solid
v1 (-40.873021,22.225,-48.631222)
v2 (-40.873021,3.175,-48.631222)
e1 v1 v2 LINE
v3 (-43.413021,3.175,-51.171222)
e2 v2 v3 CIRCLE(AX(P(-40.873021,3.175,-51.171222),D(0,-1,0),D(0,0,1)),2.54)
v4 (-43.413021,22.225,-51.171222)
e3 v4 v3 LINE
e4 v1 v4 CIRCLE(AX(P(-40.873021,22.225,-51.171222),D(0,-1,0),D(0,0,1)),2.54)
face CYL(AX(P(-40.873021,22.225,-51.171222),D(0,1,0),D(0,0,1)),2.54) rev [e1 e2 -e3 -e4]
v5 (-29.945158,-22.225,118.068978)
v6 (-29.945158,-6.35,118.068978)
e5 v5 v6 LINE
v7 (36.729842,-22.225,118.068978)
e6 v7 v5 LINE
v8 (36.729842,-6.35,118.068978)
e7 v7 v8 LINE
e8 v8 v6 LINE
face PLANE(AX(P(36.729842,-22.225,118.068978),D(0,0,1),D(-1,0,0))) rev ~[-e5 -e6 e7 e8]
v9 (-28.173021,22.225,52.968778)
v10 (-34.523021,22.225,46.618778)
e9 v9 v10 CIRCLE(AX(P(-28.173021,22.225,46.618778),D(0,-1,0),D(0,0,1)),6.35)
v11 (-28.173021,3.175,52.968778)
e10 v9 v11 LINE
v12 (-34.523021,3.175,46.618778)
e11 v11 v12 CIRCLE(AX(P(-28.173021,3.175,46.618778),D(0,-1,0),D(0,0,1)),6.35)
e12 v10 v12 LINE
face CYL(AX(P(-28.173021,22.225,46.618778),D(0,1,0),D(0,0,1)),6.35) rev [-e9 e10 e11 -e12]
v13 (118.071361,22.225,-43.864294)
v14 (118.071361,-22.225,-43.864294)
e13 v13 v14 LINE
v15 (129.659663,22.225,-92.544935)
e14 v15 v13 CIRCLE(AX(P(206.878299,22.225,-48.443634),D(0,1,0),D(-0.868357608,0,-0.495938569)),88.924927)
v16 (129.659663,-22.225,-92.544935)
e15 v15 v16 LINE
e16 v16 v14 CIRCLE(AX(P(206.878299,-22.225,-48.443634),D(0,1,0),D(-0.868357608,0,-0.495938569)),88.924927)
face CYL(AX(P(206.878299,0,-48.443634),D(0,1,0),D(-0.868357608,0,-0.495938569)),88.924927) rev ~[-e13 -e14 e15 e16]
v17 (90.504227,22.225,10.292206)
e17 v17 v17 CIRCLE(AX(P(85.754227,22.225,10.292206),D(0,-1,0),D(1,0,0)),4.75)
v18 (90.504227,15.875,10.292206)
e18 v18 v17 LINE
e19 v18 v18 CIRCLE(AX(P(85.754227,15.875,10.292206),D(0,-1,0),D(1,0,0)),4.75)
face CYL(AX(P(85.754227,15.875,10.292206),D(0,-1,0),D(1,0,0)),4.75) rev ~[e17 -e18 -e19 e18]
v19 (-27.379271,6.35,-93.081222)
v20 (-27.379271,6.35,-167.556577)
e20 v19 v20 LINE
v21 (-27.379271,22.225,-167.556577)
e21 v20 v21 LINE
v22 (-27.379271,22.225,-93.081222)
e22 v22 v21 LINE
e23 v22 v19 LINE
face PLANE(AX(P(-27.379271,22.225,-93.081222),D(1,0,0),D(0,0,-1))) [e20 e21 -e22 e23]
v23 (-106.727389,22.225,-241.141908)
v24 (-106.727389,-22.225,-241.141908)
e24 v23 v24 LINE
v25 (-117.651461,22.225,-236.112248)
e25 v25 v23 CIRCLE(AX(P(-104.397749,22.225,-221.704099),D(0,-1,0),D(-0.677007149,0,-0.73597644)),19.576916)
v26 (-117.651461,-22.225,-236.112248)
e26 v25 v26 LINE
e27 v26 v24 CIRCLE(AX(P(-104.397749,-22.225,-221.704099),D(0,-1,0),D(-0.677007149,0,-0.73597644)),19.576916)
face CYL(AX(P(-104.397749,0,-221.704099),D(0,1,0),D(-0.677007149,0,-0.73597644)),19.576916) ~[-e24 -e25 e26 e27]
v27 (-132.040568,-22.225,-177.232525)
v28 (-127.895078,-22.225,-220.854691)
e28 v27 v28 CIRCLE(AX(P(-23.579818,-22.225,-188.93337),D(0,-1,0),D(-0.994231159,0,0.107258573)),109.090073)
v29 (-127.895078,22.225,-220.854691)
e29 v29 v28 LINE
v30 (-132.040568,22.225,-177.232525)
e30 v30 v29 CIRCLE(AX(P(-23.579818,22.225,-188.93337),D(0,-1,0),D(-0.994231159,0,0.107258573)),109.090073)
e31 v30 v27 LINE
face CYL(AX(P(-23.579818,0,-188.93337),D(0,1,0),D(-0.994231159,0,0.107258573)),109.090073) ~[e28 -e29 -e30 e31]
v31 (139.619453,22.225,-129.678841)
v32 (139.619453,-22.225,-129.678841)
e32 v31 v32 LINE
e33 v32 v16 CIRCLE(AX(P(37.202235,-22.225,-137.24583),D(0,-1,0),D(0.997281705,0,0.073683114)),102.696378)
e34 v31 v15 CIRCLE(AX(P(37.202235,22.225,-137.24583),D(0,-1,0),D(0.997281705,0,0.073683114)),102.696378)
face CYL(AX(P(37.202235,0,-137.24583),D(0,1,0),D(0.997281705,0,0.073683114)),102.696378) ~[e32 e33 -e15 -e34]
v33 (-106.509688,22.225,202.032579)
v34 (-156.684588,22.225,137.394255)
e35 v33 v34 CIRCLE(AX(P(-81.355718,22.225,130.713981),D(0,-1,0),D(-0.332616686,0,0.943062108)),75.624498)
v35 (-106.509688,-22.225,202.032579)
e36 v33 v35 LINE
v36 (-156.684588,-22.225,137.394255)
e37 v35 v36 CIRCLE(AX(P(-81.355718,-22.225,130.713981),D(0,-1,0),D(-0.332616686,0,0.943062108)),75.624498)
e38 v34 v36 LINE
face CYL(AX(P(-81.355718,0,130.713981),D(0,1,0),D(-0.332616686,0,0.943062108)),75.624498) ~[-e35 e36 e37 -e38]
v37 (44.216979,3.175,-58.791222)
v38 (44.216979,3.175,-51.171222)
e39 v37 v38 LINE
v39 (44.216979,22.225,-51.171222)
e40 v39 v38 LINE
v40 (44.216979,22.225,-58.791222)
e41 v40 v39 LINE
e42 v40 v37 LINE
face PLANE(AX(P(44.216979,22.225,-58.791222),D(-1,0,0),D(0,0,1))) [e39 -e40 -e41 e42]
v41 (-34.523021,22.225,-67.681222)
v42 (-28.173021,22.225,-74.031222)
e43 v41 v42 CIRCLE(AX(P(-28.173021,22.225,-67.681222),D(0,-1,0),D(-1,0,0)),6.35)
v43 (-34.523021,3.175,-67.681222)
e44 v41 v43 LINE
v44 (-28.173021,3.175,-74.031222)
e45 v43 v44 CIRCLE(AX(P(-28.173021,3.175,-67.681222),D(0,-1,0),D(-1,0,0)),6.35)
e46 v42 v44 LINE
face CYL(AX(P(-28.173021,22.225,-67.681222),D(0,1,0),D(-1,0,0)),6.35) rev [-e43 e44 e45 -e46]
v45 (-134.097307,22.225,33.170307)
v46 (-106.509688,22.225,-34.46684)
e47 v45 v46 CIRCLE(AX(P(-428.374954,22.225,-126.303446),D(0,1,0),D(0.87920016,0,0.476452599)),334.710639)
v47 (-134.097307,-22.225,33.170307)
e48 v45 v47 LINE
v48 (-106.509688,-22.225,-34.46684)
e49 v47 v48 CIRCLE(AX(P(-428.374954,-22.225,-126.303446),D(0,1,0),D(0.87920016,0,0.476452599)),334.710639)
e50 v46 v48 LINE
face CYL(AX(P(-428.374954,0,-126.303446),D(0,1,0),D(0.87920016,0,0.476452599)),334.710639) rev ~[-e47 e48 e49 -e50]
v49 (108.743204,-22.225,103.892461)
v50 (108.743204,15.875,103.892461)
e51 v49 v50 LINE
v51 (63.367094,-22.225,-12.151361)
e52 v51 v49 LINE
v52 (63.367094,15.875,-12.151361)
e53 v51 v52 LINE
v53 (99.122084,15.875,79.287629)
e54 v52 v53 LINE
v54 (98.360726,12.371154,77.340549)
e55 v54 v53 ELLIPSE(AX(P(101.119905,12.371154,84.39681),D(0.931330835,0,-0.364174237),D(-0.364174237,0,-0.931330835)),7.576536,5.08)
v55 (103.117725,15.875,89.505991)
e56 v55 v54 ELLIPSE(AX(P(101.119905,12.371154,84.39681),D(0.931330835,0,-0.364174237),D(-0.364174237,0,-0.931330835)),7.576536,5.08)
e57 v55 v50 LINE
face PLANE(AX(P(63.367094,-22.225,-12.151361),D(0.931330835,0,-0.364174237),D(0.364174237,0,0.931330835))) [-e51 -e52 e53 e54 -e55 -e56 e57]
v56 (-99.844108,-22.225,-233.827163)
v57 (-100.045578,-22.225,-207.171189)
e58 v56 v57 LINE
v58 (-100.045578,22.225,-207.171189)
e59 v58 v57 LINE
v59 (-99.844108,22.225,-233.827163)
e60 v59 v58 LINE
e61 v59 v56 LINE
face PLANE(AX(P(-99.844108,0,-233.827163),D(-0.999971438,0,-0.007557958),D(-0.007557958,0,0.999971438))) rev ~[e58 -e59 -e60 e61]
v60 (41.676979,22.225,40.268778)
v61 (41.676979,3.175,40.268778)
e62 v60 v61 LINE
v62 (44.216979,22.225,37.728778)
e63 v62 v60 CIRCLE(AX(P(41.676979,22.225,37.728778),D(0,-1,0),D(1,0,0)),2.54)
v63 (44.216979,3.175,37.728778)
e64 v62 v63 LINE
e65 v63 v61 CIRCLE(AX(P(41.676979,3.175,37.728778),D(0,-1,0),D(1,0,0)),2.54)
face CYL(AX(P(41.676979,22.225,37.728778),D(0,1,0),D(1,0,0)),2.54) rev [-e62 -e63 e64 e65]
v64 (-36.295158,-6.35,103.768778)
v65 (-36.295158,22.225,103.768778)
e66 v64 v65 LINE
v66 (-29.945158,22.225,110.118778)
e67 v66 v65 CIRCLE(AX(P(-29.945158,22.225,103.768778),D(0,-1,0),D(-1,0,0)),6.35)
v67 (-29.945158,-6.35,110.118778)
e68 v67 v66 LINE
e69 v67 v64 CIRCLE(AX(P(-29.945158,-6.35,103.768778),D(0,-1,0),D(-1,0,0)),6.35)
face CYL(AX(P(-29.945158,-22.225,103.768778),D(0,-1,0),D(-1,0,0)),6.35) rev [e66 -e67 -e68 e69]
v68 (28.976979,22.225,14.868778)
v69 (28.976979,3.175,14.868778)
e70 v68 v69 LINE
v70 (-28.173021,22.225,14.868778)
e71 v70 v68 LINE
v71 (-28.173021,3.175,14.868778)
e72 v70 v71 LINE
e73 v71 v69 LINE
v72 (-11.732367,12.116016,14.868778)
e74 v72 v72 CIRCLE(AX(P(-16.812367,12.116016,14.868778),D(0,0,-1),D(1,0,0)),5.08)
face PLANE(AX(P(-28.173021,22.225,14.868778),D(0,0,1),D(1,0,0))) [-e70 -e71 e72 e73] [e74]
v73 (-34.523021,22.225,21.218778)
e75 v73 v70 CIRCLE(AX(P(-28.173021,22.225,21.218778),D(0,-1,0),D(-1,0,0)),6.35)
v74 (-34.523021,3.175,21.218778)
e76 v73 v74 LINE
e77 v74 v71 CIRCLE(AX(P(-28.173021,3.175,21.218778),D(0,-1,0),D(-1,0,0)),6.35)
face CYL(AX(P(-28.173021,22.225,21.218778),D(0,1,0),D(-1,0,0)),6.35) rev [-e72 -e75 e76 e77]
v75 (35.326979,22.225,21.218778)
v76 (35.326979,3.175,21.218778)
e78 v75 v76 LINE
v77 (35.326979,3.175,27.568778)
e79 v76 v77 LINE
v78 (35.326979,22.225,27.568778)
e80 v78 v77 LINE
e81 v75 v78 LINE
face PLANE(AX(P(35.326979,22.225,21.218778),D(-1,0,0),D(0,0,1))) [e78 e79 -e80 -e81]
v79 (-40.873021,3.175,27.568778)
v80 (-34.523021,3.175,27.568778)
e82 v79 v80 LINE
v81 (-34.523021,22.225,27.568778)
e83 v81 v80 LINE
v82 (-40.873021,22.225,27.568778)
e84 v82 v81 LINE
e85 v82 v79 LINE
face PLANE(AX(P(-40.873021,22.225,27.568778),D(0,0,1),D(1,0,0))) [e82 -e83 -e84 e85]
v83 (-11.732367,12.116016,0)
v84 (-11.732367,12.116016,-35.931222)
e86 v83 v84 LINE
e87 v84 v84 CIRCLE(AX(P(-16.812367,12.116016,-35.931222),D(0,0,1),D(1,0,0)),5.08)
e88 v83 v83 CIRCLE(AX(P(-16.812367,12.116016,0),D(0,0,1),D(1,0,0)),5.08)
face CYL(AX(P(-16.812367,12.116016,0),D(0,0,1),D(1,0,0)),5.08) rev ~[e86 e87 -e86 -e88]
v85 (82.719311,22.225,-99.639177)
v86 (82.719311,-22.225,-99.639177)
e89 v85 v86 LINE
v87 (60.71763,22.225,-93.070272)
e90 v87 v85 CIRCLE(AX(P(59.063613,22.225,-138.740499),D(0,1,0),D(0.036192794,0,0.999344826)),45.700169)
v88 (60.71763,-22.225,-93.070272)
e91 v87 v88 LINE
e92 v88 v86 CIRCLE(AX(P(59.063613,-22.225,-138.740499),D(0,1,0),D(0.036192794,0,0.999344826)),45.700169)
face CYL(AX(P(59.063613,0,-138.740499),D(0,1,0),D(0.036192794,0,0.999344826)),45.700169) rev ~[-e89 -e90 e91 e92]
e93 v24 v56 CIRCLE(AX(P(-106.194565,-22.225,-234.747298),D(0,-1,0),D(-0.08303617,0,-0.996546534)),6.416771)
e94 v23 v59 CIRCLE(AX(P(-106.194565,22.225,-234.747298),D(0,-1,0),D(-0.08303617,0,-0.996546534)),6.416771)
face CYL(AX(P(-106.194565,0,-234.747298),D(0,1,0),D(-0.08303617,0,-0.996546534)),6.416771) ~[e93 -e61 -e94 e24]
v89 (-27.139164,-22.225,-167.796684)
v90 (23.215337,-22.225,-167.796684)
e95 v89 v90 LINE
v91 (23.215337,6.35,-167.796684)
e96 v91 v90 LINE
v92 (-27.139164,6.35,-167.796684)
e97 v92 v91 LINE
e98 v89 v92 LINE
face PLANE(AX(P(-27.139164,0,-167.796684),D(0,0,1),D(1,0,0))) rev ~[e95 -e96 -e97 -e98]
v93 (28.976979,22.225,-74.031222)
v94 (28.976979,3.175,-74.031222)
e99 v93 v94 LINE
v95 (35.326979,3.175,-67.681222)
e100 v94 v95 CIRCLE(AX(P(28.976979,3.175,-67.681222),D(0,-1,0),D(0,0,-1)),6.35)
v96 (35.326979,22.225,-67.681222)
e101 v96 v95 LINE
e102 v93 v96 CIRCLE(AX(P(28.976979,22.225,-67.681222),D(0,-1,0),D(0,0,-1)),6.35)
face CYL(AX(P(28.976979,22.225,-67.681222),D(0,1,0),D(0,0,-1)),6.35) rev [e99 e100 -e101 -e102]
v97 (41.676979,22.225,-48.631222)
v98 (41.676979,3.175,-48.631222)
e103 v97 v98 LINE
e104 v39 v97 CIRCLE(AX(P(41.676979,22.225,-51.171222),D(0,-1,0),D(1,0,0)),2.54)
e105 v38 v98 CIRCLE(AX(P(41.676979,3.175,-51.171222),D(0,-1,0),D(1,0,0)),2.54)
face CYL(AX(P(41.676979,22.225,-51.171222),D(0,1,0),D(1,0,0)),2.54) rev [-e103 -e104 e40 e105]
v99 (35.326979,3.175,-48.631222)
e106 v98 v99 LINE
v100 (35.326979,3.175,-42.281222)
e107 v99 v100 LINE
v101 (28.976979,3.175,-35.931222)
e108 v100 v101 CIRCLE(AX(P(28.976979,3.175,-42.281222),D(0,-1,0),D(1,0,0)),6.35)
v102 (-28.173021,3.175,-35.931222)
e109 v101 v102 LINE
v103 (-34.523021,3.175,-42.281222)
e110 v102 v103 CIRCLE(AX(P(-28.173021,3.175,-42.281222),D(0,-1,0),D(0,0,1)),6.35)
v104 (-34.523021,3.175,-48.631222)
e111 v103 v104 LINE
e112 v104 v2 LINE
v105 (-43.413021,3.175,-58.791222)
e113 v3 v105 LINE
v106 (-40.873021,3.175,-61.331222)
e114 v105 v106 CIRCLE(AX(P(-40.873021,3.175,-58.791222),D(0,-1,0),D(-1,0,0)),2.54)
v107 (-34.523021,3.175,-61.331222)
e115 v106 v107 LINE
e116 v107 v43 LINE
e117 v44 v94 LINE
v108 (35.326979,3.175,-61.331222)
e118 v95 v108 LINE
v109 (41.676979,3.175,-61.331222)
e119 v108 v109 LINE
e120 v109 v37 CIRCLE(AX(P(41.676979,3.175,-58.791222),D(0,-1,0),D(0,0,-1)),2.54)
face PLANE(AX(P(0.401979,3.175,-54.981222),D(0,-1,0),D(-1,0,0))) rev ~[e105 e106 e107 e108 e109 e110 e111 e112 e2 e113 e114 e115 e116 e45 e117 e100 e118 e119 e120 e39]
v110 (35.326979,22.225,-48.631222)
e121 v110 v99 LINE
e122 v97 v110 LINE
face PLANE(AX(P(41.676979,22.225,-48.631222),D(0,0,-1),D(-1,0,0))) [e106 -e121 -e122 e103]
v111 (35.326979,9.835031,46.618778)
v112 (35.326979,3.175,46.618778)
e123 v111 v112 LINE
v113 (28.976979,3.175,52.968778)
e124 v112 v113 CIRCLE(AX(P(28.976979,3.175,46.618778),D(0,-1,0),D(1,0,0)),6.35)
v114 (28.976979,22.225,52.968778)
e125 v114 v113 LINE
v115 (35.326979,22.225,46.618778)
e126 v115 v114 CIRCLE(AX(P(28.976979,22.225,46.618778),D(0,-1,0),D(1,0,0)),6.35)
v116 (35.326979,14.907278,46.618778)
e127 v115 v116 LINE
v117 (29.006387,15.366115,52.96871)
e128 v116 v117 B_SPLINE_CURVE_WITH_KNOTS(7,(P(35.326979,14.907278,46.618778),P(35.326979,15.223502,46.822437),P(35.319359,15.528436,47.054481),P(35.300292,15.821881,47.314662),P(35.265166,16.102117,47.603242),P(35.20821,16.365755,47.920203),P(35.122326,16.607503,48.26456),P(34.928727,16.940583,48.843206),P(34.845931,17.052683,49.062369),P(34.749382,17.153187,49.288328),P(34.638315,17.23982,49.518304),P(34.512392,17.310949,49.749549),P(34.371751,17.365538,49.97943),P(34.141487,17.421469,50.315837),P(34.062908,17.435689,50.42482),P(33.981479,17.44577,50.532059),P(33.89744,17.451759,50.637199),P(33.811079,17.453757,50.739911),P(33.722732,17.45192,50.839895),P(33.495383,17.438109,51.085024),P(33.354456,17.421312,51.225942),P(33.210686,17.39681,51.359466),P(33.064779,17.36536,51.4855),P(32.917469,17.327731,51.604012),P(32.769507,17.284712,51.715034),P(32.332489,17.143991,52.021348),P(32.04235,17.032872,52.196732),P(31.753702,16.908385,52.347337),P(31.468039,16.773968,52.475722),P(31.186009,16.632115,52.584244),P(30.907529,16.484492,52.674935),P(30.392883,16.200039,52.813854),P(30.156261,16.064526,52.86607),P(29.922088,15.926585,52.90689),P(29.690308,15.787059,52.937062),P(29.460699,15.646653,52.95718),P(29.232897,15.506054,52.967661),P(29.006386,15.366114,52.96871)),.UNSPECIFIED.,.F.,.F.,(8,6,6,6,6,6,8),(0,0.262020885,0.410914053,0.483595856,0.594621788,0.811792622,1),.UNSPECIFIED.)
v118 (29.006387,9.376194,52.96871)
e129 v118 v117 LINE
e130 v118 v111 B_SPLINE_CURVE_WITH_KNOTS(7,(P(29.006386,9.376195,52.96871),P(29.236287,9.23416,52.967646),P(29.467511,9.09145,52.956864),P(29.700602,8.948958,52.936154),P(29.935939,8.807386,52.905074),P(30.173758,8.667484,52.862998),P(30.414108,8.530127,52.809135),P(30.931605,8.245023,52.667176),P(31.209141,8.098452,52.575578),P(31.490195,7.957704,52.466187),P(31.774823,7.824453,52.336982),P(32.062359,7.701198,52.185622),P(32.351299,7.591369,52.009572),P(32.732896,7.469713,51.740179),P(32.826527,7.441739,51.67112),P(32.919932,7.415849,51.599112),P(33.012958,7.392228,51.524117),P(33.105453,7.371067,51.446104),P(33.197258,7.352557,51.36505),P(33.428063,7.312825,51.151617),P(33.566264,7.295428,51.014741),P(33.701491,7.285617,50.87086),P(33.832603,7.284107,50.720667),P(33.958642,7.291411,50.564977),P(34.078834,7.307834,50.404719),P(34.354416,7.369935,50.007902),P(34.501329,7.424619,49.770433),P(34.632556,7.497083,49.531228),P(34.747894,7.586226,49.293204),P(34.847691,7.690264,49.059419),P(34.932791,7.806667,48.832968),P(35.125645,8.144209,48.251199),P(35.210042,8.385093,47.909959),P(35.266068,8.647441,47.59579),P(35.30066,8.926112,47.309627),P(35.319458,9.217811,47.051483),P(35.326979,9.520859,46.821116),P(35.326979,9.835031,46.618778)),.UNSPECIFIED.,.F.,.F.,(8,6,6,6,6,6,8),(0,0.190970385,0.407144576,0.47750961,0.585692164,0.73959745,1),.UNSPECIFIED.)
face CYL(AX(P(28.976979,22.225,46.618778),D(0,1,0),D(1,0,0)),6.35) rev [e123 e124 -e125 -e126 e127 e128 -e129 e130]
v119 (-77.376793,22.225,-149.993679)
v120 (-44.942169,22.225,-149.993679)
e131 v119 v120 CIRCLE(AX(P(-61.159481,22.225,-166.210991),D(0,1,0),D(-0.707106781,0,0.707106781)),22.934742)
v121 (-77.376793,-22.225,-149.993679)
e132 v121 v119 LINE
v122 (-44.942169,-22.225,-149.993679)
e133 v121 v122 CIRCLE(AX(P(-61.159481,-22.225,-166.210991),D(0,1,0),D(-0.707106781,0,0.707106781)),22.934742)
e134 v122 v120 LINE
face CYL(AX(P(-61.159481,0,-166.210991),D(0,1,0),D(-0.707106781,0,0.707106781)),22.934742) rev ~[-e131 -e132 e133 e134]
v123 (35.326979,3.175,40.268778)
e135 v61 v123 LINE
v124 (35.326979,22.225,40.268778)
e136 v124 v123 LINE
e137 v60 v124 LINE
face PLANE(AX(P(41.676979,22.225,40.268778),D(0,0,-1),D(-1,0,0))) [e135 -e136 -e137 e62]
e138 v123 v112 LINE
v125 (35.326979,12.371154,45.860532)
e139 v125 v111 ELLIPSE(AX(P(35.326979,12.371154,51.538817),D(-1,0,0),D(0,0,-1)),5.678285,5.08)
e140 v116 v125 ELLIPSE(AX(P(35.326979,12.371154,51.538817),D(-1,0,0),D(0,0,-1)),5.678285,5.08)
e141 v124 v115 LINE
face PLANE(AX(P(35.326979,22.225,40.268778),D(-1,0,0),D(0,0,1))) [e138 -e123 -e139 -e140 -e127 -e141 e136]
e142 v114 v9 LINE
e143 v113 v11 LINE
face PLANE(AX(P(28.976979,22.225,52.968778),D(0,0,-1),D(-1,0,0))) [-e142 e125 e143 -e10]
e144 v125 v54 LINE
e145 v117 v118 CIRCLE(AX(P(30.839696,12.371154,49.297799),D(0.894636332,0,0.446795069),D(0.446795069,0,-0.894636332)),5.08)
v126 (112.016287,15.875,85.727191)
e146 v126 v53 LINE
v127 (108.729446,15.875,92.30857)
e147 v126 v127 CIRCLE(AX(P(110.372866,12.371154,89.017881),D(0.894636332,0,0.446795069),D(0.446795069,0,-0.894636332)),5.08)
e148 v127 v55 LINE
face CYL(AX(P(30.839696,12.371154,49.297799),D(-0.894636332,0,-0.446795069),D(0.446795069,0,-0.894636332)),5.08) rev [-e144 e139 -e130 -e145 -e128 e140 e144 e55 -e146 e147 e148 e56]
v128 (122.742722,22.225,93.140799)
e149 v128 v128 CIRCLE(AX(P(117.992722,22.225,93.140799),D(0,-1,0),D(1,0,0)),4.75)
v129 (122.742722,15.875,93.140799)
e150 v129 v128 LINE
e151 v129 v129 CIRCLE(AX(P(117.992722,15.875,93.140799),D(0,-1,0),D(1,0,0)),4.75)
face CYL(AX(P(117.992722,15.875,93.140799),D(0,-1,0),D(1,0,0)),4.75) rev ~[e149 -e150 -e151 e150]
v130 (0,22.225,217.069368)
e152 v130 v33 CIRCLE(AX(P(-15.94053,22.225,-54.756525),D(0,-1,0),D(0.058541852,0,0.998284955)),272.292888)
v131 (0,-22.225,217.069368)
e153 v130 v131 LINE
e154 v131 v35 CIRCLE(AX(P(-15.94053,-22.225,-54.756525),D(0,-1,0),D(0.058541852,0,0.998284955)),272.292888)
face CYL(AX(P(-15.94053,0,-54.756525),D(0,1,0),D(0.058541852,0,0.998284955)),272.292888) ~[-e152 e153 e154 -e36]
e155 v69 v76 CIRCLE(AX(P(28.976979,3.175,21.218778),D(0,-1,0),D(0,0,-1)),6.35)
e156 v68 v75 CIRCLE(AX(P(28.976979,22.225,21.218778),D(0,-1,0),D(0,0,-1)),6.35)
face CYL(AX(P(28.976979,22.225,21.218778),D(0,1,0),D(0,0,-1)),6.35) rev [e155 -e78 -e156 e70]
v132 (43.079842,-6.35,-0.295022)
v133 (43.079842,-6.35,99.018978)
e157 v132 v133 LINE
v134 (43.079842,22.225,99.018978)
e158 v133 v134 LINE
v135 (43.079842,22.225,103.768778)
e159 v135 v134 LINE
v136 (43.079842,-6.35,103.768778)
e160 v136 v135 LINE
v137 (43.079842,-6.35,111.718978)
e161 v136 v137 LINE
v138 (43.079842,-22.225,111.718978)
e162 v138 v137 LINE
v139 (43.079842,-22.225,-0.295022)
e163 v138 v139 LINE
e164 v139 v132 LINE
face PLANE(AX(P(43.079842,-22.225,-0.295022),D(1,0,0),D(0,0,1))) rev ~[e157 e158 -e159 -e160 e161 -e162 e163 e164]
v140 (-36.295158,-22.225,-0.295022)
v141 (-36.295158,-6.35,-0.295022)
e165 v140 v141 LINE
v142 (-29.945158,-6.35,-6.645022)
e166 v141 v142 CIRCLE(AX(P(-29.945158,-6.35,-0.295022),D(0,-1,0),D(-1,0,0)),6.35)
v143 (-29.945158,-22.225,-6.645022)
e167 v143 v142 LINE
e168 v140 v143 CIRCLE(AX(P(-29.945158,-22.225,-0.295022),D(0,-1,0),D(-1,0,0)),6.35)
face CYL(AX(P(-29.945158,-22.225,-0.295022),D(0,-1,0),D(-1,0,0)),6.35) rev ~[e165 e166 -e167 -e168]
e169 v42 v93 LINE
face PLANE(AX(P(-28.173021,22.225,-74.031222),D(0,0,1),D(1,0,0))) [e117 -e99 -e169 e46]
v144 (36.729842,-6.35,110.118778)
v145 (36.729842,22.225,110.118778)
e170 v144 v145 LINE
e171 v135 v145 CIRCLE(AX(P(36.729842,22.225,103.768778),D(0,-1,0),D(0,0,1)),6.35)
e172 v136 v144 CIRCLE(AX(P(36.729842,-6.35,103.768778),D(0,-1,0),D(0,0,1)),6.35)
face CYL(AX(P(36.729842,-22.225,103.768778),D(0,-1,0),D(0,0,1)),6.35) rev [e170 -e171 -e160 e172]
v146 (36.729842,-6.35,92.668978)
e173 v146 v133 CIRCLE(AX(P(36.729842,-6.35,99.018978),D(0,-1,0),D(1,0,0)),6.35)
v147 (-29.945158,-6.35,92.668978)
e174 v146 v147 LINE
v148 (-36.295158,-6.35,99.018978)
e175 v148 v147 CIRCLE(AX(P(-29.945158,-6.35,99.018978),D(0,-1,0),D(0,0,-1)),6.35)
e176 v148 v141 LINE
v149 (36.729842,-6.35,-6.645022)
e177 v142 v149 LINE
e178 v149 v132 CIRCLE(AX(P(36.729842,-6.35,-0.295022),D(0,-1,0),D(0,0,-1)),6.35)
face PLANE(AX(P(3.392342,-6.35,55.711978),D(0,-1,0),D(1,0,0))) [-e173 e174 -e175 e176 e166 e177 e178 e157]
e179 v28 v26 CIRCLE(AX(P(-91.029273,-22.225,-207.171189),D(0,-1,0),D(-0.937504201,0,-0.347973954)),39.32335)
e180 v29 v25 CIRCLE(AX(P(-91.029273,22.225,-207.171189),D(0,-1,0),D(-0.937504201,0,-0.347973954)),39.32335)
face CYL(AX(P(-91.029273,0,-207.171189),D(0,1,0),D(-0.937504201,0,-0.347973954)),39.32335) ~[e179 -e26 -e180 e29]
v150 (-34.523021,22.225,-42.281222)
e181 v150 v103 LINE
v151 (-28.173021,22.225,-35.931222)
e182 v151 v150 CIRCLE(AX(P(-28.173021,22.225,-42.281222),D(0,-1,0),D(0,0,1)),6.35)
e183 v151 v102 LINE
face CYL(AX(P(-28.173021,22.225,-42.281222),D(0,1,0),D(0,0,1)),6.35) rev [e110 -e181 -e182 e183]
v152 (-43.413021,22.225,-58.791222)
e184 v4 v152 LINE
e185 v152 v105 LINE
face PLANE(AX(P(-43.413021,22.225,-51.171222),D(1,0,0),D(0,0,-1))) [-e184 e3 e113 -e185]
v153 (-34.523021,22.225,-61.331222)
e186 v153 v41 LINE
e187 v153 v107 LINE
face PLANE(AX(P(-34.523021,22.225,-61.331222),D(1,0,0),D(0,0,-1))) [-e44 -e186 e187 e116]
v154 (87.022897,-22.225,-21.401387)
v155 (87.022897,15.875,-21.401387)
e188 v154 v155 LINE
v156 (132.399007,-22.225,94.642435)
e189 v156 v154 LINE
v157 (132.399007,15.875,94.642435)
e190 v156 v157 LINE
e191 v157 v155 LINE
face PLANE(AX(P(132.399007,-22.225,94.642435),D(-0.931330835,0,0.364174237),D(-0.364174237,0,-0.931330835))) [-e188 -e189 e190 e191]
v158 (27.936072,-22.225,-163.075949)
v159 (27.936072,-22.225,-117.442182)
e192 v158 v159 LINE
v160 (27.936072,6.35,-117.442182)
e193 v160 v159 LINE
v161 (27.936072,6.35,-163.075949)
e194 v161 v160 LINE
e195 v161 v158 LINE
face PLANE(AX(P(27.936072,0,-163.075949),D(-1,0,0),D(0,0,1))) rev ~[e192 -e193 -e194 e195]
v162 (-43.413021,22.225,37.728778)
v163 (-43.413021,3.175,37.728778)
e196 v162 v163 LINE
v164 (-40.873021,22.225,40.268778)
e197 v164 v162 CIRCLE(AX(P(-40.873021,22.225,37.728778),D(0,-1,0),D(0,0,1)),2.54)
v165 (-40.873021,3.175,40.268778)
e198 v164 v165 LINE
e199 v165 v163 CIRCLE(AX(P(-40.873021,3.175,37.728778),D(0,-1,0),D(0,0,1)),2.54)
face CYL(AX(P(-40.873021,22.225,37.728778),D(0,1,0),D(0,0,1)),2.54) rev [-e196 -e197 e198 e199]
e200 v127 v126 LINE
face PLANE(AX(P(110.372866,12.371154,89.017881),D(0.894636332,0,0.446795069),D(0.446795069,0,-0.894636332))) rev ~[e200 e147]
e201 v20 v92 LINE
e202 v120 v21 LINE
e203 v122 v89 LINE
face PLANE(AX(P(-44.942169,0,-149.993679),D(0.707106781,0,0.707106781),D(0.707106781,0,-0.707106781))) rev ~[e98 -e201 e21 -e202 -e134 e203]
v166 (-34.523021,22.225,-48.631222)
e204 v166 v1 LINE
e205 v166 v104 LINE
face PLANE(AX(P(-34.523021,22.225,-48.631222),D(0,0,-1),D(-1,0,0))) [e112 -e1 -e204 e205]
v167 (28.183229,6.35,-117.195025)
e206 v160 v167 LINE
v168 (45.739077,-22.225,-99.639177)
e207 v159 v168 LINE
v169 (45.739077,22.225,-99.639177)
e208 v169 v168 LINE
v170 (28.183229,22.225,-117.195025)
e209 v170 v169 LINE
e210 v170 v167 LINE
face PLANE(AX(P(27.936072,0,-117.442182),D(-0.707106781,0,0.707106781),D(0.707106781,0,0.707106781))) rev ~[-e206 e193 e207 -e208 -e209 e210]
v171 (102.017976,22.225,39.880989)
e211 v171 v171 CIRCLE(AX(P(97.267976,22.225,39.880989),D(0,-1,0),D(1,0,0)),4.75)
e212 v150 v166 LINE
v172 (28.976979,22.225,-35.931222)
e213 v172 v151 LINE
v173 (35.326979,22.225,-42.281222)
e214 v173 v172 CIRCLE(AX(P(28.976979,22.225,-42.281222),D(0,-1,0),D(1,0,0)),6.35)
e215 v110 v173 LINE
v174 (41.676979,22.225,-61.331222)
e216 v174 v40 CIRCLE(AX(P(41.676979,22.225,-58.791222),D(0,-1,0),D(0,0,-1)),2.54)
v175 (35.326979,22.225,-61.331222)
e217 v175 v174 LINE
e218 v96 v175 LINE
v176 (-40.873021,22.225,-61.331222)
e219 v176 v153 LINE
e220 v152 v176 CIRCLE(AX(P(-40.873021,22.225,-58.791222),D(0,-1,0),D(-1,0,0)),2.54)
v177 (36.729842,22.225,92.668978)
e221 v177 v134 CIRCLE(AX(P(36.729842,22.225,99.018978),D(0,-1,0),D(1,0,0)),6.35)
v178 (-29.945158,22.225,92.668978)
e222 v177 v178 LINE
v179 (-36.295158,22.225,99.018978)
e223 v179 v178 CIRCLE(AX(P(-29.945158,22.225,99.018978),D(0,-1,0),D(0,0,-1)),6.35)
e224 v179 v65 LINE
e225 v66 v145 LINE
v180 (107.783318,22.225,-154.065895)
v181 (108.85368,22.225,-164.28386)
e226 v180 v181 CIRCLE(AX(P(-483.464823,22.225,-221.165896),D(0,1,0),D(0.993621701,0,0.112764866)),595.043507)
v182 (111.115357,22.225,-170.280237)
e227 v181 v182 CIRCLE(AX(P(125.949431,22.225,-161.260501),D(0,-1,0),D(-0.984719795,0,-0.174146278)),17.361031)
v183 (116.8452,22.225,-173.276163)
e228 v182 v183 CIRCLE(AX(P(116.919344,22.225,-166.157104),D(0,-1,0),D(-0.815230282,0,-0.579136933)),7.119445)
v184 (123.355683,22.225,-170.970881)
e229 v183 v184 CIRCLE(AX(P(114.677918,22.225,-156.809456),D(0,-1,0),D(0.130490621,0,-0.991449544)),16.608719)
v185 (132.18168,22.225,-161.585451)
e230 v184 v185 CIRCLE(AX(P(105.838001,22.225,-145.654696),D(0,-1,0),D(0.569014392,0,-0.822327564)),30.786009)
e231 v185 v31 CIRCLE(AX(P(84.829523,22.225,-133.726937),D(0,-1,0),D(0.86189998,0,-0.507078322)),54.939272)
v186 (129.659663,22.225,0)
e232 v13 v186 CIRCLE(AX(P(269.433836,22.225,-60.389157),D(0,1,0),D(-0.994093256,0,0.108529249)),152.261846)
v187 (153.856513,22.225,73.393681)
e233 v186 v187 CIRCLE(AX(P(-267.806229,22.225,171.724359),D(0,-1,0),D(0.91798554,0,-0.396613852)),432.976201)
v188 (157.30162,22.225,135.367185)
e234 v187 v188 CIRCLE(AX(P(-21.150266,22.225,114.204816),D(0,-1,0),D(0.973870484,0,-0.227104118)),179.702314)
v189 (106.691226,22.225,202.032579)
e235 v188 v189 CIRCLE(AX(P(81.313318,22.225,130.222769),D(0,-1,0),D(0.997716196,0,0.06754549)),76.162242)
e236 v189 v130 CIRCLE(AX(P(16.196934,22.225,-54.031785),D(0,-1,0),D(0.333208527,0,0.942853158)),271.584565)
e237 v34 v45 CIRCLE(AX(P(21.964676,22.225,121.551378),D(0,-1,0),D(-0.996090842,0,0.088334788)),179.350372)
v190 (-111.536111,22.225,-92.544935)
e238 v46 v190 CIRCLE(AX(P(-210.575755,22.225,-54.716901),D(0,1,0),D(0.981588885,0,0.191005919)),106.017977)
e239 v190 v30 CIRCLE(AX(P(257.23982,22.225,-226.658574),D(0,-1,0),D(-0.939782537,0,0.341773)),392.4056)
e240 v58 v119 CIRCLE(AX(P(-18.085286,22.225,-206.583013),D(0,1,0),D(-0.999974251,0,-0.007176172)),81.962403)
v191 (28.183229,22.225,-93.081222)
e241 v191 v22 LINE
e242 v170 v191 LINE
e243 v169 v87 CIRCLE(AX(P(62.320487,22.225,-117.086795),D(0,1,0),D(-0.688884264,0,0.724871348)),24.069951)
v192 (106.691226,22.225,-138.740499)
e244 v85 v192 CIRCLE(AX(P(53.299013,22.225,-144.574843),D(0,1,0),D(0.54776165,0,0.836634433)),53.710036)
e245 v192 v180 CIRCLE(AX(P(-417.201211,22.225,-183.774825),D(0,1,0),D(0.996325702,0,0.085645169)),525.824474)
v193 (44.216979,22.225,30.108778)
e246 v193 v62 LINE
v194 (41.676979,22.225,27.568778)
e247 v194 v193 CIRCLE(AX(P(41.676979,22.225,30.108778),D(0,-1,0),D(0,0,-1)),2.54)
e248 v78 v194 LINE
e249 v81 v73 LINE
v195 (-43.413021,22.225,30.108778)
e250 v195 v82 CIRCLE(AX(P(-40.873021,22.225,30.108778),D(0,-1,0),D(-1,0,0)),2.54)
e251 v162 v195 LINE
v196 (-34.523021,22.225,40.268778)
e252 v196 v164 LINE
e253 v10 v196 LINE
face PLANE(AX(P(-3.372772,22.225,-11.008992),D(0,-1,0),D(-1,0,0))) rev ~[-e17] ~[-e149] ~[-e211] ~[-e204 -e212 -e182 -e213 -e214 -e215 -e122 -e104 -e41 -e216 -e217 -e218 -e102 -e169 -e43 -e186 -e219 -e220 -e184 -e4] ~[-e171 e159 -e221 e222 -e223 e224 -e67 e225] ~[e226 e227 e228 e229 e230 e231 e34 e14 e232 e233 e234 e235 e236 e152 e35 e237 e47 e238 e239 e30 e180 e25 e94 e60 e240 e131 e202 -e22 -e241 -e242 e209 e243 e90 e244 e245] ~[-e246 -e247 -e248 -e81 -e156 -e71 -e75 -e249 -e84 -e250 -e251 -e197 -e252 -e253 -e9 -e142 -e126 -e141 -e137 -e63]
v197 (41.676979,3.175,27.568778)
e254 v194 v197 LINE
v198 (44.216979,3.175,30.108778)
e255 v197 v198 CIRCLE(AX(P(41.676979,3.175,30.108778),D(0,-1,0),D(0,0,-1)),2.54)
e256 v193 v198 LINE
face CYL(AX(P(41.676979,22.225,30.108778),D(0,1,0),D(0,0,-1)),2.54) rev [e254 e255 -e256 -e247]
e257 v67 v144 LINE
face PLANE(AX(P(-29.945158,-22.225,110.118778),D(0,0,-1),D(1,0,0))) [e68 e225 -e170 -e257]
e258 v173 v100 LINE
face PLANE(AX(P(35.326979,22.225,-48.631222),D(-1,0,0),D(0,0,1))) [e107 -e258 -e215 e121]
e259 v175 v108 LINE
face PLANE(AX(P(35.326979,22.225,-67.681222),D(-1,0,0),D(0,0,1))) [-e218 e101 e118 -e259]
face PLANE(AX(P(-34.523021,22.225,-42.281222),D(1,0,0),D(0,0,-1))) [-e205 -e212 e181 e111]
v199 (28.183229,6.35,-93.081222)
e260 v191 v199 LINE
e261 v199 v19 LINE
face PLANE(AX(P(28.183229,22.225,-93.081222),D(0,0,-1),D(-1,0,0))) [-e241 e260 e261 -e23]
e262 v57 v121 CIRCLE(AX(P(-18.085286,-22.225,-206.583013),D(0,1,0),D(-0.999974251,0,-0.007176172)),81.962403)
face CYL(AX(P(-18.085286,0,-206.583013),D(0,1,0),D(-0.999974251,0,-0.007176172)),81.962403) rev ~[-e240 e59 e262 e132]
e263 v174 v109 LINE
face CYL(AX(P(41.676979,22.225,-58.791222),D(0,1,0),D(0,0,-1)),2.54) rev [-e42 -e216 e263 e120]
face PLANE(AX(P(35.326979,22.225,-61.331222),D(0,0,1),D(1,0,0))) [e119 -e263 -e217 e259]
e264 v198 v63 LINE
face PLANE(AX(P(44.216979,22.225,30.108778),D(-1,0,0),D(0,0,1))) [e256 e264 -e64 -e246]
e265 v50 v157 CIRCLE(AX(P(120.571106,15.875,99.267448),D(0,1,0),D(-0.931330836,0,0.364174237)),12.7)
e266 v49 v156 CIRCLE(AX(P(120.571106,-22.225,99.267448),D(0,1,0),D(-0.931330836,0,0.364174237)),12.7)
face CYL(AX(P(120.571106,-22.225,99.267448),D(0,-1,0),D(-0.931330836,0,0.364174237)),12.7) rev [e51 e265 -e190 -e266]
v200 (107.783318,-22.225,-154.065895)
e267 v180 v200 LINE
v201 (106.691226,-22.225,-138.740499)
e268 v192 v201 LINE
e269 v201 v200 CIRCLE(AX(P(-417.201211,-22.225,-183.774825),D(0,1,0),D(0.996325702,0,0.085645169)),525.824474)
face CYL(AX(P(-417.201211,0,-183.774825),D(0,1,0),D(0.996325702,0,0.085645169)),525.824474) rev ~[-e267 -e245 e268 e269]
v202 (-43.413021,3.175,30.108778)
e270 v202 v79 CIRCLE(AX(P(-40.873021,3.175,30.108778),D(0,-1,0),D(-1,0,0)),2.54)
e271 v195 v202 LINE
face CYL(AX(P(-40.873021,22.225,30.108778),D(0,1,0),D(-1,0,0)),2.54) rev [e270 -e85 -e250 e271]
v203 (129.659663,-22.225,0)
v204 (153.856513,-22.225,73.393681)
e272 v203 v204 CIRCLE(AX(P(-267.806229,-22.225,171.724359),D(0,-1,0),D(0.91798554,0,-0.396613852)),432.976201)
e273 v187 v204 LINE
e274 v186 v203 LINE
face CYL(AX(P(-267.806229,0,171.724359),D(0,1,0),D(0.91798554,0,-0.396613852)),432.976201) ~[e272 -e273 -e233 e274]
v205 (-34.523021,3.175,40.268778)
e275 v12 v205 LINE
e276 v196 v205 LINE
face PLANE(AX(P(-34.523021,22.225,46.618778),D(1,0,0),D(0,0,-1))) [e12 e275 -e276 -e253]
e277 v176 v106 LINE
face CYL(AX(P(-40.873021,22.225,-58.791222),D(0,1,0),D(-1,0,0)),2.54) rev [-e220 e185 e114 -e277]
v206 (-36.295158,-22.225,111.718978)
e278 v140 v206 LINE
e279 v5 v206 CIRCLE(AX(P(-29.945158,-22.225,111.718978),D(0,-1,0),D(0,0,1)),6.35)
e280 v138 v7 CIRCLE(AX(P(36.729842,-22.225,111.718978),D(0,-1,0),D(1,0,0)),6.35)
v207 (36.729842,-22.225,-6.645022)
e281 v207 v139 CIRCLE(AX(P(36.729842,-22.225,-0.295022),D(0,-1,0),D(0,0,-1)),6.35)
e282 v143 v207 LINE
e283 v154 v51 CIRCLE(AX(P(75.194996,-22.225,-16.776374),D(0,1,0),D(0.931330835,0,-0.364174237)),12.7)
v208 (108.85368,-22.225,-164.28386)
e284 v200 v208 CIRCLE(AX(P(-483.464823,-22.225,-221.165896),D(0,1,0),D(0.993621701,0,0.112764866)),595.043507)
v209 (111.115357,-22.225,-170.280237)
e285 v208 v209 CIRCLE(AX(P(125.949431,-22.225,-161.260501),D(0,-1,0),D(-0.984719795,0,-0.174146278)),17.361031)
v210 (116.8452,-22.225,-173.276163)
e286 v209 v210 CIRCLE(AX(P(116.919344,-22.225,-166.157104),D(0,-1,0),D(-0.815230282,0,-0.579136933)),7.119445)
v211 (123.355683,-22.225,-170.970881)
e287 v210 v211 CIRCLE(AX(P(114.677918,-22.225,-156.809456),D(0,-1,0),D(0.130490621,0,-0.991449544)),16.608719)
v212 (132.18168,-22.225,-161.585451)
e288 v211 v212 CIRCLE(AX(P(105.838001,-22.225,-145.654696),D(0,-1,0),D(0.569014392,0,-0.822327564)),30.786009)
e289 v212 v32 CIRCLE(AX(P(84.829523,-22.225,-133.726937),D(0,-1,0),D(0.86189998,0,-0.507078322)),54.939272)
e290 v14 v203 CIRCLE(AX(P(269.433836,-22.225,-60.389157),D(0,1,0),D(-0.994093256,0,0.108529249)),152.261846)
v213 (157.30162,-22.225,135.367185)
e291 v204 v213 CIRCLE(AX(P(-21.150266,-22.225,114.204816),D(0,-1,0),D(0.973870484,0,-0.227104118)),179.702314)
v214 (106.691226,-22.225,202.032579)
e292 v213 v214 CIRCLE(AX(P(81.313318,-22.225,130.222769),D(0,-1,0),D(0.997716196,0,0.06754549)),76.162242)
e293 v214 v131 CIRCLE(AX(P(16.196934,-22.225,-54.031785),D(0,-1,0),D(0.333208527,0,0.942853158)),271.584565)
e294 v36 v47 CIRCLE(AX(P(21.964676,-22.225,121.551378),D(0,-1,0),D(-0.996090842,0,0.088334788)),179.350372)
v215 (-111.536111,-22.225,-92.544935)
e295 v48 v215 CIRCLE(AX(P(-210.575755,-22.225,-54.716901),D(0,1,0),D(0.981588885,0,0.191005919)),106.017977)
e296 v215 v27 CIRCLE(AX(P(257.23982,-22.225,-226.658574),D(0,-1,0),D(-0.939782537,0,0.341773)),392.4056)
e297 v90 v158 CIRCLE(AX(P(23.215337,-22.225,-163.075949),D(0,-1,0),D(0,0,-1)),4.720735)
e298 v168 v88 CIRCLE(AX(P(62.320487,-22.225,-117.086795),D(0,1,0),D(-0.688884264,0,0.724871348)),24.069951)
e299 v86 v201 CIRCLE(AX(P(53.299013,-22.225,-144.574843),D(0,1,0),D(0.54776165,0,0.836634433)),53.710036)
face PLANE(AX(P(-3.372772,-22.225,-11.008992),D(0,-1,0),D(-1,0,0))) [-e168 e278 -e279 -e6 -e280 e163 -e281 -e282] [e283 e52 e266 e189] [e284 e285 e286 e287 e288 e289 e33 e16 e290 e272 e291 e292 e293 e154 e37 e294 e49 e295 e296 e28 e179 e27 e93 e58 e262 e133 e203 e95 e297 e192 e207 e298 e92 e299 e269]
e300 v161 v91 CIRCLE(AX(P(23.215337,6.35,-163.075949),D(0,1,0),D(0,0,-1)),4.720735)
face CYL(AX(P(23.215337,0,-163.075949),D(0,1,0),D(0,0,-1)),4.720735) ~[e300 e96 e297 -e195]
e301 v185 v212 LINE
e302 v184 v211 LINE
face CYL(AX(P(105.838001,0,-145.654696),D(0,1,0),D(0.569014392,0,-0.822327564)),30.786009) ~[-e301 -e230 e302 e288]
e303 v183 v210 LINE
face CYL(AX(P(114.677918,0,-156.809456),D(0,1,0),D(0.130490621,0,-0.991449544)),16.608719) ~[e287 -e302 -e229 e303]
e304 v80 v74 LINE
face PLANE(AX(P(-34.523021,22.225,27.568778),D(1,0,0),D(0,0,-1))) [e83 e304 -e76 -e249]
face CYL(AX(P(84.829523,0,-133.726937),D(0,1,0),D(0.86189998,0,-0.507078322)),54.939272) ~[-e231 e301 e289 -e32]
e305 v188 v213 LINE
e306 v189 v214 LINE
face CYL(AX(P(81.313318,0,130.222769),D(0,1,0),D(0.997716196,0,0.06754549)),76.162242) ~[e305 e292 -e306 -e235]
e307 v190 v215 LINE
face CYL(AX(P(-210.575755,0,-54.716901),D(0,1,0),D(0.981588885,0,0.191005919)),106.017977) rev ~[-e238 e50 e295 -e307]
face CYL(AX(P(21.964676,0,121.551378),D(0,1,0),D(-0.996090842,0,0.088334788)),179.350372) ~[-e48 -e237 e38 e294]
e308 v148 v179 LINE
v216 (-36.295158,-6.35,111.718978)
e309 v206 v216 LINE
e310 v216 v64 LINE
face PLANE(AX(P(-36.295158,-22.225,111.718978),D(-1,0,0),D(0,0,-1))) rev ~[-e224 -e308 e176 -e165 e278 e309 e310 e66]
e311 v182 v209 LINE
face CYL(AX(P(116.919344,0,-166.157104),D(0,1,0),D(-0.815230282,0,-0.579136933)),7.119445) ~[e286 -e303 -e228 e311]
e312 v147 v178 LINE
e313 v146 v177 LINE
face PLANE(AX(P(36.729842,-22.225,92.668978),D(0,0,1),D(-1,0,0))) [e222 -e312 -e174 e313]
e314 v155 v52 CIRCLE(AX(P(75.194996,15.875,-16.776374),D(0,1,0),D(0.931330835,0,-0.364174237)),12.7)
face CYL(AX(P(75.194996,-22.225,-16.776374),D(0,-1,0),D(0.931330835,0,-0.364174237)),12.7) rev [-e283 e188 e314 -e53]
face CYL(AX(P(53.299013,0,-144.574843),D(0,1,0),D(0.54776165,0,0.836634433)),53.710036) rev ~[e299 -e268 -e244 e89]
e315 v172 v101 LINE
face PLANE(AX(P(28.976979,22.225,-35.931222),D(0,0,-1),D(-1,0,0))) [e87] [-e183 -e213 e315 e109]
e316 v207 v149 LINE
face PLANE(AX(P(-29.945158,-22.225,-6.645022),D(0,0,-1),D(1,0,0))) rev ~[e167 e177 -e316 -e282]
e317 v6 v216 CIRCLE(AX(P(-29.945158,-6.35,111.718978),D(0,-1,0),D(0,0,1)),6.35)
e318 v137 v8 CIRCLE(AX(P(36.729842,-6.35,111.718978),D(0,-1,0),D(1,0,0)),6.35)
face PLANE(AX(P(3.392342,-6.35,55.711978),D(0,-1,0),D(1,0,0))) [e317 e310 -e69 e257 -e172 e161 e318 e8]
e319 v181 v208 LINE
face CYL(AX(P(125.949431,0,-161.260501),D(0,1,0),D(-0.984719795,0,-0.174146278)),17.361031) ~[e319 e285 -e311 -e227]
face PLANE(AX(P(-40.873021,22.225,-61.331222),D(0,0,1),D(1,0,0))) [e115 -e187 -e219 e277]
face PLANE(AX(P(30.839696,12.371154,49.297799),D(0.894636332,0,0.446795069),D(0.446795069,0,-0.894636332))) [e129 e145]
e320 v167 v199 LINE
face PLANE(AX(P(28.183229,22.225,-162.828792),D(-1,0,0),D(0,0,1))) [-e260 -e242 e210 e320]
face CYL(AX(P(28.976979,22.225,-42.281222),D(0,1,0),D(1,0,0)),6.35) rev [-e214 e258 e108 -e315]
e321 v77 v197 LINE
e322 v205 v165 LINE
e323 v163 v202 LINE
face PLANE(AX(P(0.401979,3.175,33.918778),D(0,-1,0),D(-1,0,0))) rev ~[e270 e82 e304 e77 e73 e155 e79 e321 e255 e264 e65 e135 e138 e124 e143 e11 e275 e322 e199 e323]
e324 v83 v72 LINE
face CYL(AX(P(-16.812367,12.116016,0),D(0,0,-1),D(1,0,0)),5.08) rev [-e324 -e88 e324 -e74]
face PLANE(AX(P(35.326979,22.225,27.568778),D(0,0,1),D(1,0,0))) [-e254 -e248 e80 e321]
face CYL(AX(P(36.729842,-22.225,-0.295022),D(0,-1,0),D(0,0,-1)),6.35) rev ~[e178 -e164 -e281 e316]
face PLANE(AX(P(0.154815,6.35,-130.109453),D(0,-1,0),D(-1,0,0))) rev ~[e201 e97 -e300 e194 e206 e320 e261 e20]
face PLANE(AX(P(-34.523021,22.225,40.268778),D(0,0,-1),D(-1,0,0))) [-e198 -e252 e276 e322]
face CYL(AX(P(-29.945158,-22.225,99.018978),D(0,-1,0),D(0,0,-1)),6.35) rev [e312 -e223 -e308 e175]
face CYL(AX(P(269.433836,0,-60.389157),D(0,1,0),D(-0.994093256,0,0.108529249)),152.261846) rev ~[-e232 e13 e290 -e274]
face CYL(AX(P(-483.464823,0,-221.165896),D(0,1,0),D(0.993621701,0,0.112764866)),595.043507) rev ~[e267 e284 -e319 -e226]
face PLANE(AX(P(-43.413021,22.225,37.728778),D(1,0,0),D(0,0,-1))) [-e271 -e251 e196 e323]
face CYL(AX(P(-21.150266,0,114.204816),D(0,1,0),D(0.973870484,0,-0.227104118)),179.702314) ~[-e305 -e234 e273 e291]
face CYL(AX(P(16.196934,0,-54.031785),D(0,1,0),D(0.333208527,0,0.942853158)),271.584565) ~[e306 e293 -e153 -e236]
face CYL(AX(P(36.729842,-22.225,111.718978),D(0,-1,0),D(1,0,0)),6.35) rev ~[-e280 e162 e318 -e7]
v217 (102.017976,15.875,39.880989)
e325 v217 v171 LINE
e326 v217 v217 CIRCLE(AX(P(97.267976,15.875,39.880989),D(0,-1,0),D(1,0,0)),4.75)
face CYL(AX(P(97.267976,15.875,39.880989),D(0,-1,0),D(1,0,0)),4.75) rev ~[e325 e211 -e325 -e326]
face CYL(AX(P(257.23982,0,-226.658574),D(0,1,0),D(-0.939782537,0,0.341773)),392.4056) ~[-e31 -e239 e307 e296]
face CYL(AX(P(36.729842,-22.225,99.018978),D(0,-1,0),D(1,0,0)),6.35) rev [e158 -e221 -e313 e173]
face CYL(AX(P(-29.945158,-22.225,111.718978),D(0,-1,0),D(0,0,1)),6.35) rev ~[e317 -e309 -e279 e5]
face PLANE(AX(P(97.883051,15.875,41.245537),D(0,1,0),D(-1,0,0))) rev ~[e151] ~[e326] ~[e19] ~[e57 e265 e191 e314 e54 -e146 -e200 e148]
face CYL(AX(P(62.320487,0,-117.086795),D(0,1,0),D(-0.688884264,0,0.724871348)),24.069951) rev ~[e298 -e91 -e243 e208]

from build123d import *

# Parameters (mm, degrees)
BOSS_EXTRUDE1_DEPTH     = 22.225
CUT_EXTRUDE1_DEPTH      = 15.875
CUT_EXTRUDE2_DEPTH      = 19.05
CUT_EXTRUDE3_DEPTH      = 19.05
CUT_EXTRUDE4_DEPTH      = 15.875
CUT_EXTRUDE5_DEPTH      = 1
CUT_EXTRUDE5_DEPTH_BACK = 45.45
CUT_EXTRUDE6_DEPTH      = 38.1
SKETCH9_R               = 4.75
CUT_EXTRUDE7_DEPTH      = 39.1
CUT_EXTRUDE7_DEPTH_BACK = 7.35
SKETCH10_R              = 5.08
CUT_EXTRUDE8_DEPTH      = 38.1
CUT_EXTRUDE8_DEPTH_BACK = 38.1
SKETCH14_R              = 5.08
CUT_EXTRUDE9_DEPTH      = 88.9


with BuildPart() as part:
    # Sketch1 → Boss-Extrude1 (new body, symmetric)
    with BuildSketch(Plane(origin=(0, 0, 0), x_dir=(1, 0, 0), z_dir=(0, 1, 0))):
        with BuildLine():
            Line((-27.139164257, 167.796683689), (23.215337255, 167.796683689))
            ThreePointArc((23.215337255, 167.796683689), (26.553400644, 166.414012561), (27.936071772, 163.075949172))
            Line((27.936071772, 163.075949172), (27.936071772, 117.442182176))
            Line((27.936071772, 117.442182176), (45.739076513, 99.639177435))
            ThreePointArc((45.739076513, 99.639177435), (52.653298853, 95.043473949), (60.717629895, 93.070271999))
            ThreePointArc((60.717629895, 93.070271999), (72.137749756, 94.950404711), (82.719311408, 99.639177435))
            ThreePointArc((82.719311408, 99.639177435), (99.088819495, 116.502407503), (106.691226482, 138.740499404))
            ThreePointArc((106.691226482, 138.740499404), (107.293250165, 146.399208048), (107.783318293, 154.065894676))
            ThreePointArc((107.783318293, 154.065894676), (108.340552038, 159.17256706), (108.853679748, 164.283859678))
            ThreePointArc((108.853679748, 164.283859678), (109.705429788, 167.387313473), (111.11535679, 170.2802375))
            ThreePointArc((111.11535679, 170.2802375), (113.620556723, 172.466184723), (116.845200472, 173.276162908))
            ThreePointArc((116.845200472, 173.276162908), (120.221594265, 172.465675408), (123.355683212, 170.970880603))
            ThreePointArc((123.355683212, 170.970880603), (128.265134652, 166.745027029), (132.181680011, 161.585451046))
            ThreePointArc((132.181680011, 161.585451046), (138.33428397, 146.199471549), (139.619453347, 129.678840803))
            ThreePointArc((139.619453347, 129.678840803), (136.39277719, 110.641651914), (129.659662699, 92.544934835))
            ThreePointArc((129.659662699, 92.544934835), (120.370646129, 69.036558024), (118.071361376, 43.864293549))
            ThreePointArc((118.071361376, 43.864293549), (122.222572829, 21.498106395), (129.659662699, 0))
            ThreePointArc((129.659662699, 0), (143.398814545, -36.155916163), (153.856513267, -73.393680656))
            ThreePointArc((153.856513267, -73.393680656), (158.275027292, -104.230564471), (157.301620264, -135.367185167))
            ThreePointArc((157.301620264, -135.367185167), (141.975051177, -176.275361149), (106.691226482, -202.032579498))
            ThreePointArc((106.691226482, -202.032579498), (54.098789107, -214.895017574), (0, -217.069367939))
            ThreePointArc((0, -217.069367939), (-54.004742533, -214.862710734), (-106.509687866, -202.032579498))
            ThreePointArc((-106.509687866, -202.032579498), (-141.094553776, -177.085698472), (-156.684587611, -137.394255213))
            ThreePointArc((-156.684587611, -137.394255213), (-153.316704731, -83.564621207), (-134.097306667, -33.170307338))
            ThreePointArc((-134.097306667, -33.170307338), (-118.452837363, -0.106574858), (-106.509687848, 34.466839857))
            ThreePointArc((-106.509687848, 34.466839857), (-104.952609842, 63.858154337), (-111.536110603, 92.544934857))
            ThreePointArc((-111.536110603, 92.544934857), (-124.146260861, 134.317832636), (-132.040568435, 177.232524599))
            ThreePointArc((-132.040568435, 177.232524599), (-132.180605283, 199.253892218), (-127.895077973, 220.854690763))
            ThreePointArc((-127.895077973, 220.854690763), (-123.677084376, 229.09027242), (-117.65146136, 236.112248103))
            ThreePointArc((-117.65146136, 236.112248103), (-112.585214143, 239.486704693), (-106.727388664, 241.141908245))
            ThreePointArc((-106.727388664, 241.141908245), (-101.521494245, 239.144724173), (-99.844107934, 233.82716307))
            Line((-99.844107934, 233.82716307), (-100.045578427, 207.171189317))
            ThreePointArc((-100.045578427, 207.171189317), (-94.278032432, 176.375383516), (-77.376792667, 149.993678943))
            ThreePointArc((-77.376792667, 149.993678943), (-61.159480832, 143.276248437), (-44.942168999, 149.993678947))
            Line((-44.942168999, 149.993678947), (-27.139164257, 167.796683689))
        make_face()
    extrude(amount=BOSS_EXTRUDE1_DEPTH, both=True)

    # Sketch2 → Cut-Extrude1 (cut)
    with BuildSketch(Plane(origin=(0, 22.225, 0), x_dir=(1, 0, 0), z_dir=(0, 1, 0))):
        with BuildLine():
            Line((-27.379271025, 93.081221646), (-27.379271025, 167.796683689))
            Line((-27.379271025, 167.796683689), (23.215337255, 167.796683689))
            ThreePointArc((23.215337255, 167.796683689), (26.728167178, 166.341621892), (28.183228975, 162.828791969))
            Line((28.183228975, 162.828791969), (28.183228975, 93.081221646))
            Line((28.183228975, 93.081221646), (-27.379271025, 93.081221646))
        make_face()
    extrude(amount=-CUT_EXTRUDE1_DEPTH, mode=Mode.SUBTRACT)

    # Sketch3 → Cut-Extrude2 (cut)
    with BuildSketch(Plane(origin=(0, 22.225, 0), x_dir=(1, 0, 0), z_dir=(0, 1, 0))):
        with BuildLine():
            Line((-40.873021025, -27.568778354), (-34.523021025, -27.568778354))
            Line((-34.523021025, -27.568778354), (-34.523021025, -21.218778354))
            ThreePointArc((-34.523021025, -21.218778354), (-32.663149086, -16.728650294), (-28.173021025, -14.868778354))
            Line((-28.173021025, -14.868778354), (28.976978975, -14.868778354))
            ThreePointArc((28.976978975, -14.868778354), (33.467107035, -16.728650294), (35.326978975, -21.218778354))
            Line((35.326978975, -21.218778354), (35.326978975, -27.568778354))
            Line((35.326978975, -27.568778354), (41.676978975, -27.568778354))
            ThreePointArc((41.676978975, -27.568778354), (43.473030199, -28.31272713), (44.216978975, -30.108778354))
            Line((44.216978975, -30.108778354), (44.216978975, -37.728778354))
            ThreePointArc((44.216978975, -37.728778354), (43.473030199, -39.524829578), (41.676978975, -40.268778354))
            Line((41.676978975, -40.268778354), (35.326978975, -40.268778354))
            Line((35.326978975, -40.268778354), (35.326978975, -46.618778354))
            ThreePointArc((35.326978975, -46.618778354), (33.467107035, -51.108906415), (28.976978975, -52.968778354))
            Line((28.976978975, -52.968778354), (-28.173021025, -52.968778354))
            ThreePointArc((-28.173021025, -52.968778354), (-32.663149086, -51.108906415), (-34.523021025, -46.618778354))
            Line((-34.523021025, -46.618778354), (-34.523021025, -40.268778354))
            Line((-34.523021025, -40.268778354), (-40.873021025, -40.268778354))
            ThreePointArc((-40.873021025, -40.268778354), (-42.66907225, -39.524829578), (-43.413021025, -37.728778354))
            Line((-43.413021025, -37.728778354), (-43.413021025, -30.108778354))
            ThreePointArc((-43.413021025, -30.108778354), (-42.66907225, -28.31272713), (-40.873021025, -27.568778354))
        make_face()
    extrude(amount=-CUT_EXTRUDE2_DEPTH, mode=Mode.SUBTRACT)

    # Sketch4 → Cut-Extrude3 (cut)
    with BuildSketch(Plane(origin=(0, 22.225, 0), x_dir=(1, 0, 0), z_dir=(0, 1, 0))):
        with BuildLine():
            Line((-40.873021025, 61.331221646), (-34.523021025, 61.331221646))
            Line((-34.523021025, 61.331221646), (-34.523021025, 67.681221646))
            ThreePointArc((-34.523021025, 67.681221646), (-32.663149086, 72.171349706), (-28.173021025, 74.031221646))
            Line((-28.173021025, 74.031221646), (28.976978975, 74.031221646))
            ThreePointArc((28.976978975, 74.031221646), (33.467107035, 72.171349706), (35.326978975, 67.681221646))
            Line((35.326978975, 67.681221646), (35.326978975, 61.331221646))
            Line((35.326978975, 61.331221646), (41.676978975, 61.331221646))
            ThreePointArc((41.676978975, 61.331221646), (43.473030199, 60.58727287), (44.216978975, 58.791221646))
            Line((44.216978975, 58.791221646), (44.216978975, 51.171221646))
            ThreePointArc((44.216978975, 51.171221646), (43.473030199, 49.375170422), (41.676978975, 48.631221646))
            Line((41.676978975, 48.631221646), (35.326978975, 48.631221646))
            Line((35.326978975, 48.631221646), (35.326978975, 42.281221646))
            ThreePointArc((35.326978975, 42.281221646), (33.467107035, 37.791093585), (28.976978975, 35.931221646))
            Line((28.976978975, 35.931221646), (-28.173021025, 35.931221646))
            ThreePointArc((-28.173021025, 35.931221646), (-32.663149086, 37.791093585), (-34.523021025, 42.281221646))
            Line((-34.523021025, 42.281221646), (-34.523021025, 48.631221646))
            Line((-34.523021025, 48.631221646), (-40.873021025, 48.631221646))
            ThreePointArc((-40.873021025, 48.631221646), (-42.66907225, 49.375170422), (-43.413021025, 51.171221646))
            Line((-43.413021025, 51.171221646), (-43.413021025, 58.791221646))
            ThreePointArc((-43.413021025, 58.791221646), (-42.66907225, 60.58727287), (-40.873021025, 61.331221646))
        make_face()
    extrude(amount=-CUT_EXTRUDE3_DEPTH, mode=Mode.SUBTRACT)

    # Sketch5 → Cut-Extrude4 (cut)
    with BuildSketch(Plane.XZ.offset(22.225)):
        with BuildLine():
            Line((-36.295157608, 111.718978354), (-36.295157608, -0.295021646))
            ThreePointArc((-36.295157608, -0.295021646), (-34.435285668, -4.785149706), (-29.945157608, -6.645021646))
            Line((-29.945157608, -6.645021646), (36.729842392, -6.645021646))
            ThreePointArc((36.729842392, -6.645021646), (41.219970453, -4.785149706), (43.079842392, -0.295021646))
            Line((43.079842392, -0.295021646), (43.079842392, 111.718978354))
            ThreePointArc((43.079842392, 111.718978354), (41.219970453, 116.209106415), (36.729842392, 118.068978354))
            Line((36.729842392, 118.068978354), (-29.945157608, 118.068978354))
            ThreePointArc((-29.945157608, 118.068978354), (-34.435285668, 116.209106415), (-36.295157608, 111.718978354))
        make_face()
    extrude(amount=-CUT_EXTRUDE4_DEPTH, mode=Mode.SUBTRACT)

    # Sketch6 → Cut-Extrude5 (cut, two sides)
    with BuildSketch(Plane.XZ.offset(22.225)) as cut_extrude5_sk:
        with BuildLine():
            Line((-29.945157608, 110.118778354), (36.729842392, 110.118778354))
            ThreePointArc((36.729842392, 110.118778354), (41.219970453, 108.258906415), (43.079842392, 103.768778354))
            Line((43.079842392, 103.768778354), (43.079842392, 99.018978354))
            ThreePointArc((43.079842392, 99.018978354), (41.219970453, 94.528850294), (36.729842392, 92.668978354))
            Line((36.729842392, 92.668978354), (-29.945157608, 92.668978354))
            ThreePointArc((-29.945157608, 92.668978354), (-34.435285668, 94.528850294), (-36.295157608, 99.018978354))
            Line((-36.295157608, 99.018978354), (-36.295157608, 103.768778354))
            ThreePointArc((-36.295157608, 103.768778354), (-34.435285668, 108.258906415), (-29.945157608, 110.118778354))
        make_face()
    extrude(amount=CUT_EXTRUDE5_DEPTH, mode=Mode.SUBTRACT)
    extrude(cut_extrude5_sk.sketch, amount=-CUT_EXTRUDE5_DEPTH_BACK, mode=Mode.SUBTRACT)

    # Sketch7 → Cut-Extrude6 (cut)
    with BuildSketch(Plane.XZ.offset(22.225)):
        with BuildLine():
            Line((63.367094077, -12.151361373), (108.743204002, 103.892460729))
            ThreePointArc((108.743204002, 103.892460729), (125.196118422, 111.095349531), (132.399007223, 94.642435111))
            Line((132.399007223, 94.642435111), (87.022897298, -21.401386992))
            ThreePointArc((87.022897298, -21.401386992), (70.569982878, -28.604275793), (63.367094077, -12.151361373))
        make_face()
    extrude(amount=-CUT_EXTRUDE6_DEPTH, mode=Mode.SUBTRACT)

    # Sketch9 → Cut-Extrude7 (cut, two sides)
    with BuildSketch(Plane.XZ.offset(-15.875)) as cut_extrude7_sk:
        with Locations((85.754227465, 10.292205969)):
            Circle(SKETCH9_R)
        with Locations((97.267975655, 39.880989361)):
            Circle(SKETCH9_R)
        with Locations((117.992722398, 93.140799466)):
            Circle(SKETCH9_R)
    extrude(amount=CUT_EXTRUDE7_DEPTH, mode=Mode.SUBTRACT)
    extrude(cut_extrude7_sk.sketch, amount=-CUT_EXTRUDE7_DEPTH_BACK, mode=Mode.SUBTRACT)

    # Sketch10 → Cut-Extrude8 (cut, two sides)
    with BuildSketch(Plane.XY) as cut_extrude8_sk:
        with Locations((-16.812366699, 12.116016476)):
            Circle(SKETCH10_R)
    extrude(amount=CUT_EXTRUDE8_DEPTH, mode=Mode.SUBTRACT)
    extrude(cut_extrude8_sk.sketch, amount=-CUT_EXTRUDE8_DEPTH_BACK, mode=Mode.SUBTRACT)

    # Sketch14 → Cut-Extrude9 (cut)
    with BuildSketch(Plane(origin=(44.388567954, 0, 22.168329827), x_dir=(0.446795069, 0, -0.894636332), z_dir=(0.894636332, 0, 0.446795069))):
        with Locations((-30.324577812, 12.371154411)):
            Circle(SKETCH14_R)
    extrude(amount=CUT_EXTRUDE9_DEPTH, mode=Mode.SUBTRACT)


solid = part.part
